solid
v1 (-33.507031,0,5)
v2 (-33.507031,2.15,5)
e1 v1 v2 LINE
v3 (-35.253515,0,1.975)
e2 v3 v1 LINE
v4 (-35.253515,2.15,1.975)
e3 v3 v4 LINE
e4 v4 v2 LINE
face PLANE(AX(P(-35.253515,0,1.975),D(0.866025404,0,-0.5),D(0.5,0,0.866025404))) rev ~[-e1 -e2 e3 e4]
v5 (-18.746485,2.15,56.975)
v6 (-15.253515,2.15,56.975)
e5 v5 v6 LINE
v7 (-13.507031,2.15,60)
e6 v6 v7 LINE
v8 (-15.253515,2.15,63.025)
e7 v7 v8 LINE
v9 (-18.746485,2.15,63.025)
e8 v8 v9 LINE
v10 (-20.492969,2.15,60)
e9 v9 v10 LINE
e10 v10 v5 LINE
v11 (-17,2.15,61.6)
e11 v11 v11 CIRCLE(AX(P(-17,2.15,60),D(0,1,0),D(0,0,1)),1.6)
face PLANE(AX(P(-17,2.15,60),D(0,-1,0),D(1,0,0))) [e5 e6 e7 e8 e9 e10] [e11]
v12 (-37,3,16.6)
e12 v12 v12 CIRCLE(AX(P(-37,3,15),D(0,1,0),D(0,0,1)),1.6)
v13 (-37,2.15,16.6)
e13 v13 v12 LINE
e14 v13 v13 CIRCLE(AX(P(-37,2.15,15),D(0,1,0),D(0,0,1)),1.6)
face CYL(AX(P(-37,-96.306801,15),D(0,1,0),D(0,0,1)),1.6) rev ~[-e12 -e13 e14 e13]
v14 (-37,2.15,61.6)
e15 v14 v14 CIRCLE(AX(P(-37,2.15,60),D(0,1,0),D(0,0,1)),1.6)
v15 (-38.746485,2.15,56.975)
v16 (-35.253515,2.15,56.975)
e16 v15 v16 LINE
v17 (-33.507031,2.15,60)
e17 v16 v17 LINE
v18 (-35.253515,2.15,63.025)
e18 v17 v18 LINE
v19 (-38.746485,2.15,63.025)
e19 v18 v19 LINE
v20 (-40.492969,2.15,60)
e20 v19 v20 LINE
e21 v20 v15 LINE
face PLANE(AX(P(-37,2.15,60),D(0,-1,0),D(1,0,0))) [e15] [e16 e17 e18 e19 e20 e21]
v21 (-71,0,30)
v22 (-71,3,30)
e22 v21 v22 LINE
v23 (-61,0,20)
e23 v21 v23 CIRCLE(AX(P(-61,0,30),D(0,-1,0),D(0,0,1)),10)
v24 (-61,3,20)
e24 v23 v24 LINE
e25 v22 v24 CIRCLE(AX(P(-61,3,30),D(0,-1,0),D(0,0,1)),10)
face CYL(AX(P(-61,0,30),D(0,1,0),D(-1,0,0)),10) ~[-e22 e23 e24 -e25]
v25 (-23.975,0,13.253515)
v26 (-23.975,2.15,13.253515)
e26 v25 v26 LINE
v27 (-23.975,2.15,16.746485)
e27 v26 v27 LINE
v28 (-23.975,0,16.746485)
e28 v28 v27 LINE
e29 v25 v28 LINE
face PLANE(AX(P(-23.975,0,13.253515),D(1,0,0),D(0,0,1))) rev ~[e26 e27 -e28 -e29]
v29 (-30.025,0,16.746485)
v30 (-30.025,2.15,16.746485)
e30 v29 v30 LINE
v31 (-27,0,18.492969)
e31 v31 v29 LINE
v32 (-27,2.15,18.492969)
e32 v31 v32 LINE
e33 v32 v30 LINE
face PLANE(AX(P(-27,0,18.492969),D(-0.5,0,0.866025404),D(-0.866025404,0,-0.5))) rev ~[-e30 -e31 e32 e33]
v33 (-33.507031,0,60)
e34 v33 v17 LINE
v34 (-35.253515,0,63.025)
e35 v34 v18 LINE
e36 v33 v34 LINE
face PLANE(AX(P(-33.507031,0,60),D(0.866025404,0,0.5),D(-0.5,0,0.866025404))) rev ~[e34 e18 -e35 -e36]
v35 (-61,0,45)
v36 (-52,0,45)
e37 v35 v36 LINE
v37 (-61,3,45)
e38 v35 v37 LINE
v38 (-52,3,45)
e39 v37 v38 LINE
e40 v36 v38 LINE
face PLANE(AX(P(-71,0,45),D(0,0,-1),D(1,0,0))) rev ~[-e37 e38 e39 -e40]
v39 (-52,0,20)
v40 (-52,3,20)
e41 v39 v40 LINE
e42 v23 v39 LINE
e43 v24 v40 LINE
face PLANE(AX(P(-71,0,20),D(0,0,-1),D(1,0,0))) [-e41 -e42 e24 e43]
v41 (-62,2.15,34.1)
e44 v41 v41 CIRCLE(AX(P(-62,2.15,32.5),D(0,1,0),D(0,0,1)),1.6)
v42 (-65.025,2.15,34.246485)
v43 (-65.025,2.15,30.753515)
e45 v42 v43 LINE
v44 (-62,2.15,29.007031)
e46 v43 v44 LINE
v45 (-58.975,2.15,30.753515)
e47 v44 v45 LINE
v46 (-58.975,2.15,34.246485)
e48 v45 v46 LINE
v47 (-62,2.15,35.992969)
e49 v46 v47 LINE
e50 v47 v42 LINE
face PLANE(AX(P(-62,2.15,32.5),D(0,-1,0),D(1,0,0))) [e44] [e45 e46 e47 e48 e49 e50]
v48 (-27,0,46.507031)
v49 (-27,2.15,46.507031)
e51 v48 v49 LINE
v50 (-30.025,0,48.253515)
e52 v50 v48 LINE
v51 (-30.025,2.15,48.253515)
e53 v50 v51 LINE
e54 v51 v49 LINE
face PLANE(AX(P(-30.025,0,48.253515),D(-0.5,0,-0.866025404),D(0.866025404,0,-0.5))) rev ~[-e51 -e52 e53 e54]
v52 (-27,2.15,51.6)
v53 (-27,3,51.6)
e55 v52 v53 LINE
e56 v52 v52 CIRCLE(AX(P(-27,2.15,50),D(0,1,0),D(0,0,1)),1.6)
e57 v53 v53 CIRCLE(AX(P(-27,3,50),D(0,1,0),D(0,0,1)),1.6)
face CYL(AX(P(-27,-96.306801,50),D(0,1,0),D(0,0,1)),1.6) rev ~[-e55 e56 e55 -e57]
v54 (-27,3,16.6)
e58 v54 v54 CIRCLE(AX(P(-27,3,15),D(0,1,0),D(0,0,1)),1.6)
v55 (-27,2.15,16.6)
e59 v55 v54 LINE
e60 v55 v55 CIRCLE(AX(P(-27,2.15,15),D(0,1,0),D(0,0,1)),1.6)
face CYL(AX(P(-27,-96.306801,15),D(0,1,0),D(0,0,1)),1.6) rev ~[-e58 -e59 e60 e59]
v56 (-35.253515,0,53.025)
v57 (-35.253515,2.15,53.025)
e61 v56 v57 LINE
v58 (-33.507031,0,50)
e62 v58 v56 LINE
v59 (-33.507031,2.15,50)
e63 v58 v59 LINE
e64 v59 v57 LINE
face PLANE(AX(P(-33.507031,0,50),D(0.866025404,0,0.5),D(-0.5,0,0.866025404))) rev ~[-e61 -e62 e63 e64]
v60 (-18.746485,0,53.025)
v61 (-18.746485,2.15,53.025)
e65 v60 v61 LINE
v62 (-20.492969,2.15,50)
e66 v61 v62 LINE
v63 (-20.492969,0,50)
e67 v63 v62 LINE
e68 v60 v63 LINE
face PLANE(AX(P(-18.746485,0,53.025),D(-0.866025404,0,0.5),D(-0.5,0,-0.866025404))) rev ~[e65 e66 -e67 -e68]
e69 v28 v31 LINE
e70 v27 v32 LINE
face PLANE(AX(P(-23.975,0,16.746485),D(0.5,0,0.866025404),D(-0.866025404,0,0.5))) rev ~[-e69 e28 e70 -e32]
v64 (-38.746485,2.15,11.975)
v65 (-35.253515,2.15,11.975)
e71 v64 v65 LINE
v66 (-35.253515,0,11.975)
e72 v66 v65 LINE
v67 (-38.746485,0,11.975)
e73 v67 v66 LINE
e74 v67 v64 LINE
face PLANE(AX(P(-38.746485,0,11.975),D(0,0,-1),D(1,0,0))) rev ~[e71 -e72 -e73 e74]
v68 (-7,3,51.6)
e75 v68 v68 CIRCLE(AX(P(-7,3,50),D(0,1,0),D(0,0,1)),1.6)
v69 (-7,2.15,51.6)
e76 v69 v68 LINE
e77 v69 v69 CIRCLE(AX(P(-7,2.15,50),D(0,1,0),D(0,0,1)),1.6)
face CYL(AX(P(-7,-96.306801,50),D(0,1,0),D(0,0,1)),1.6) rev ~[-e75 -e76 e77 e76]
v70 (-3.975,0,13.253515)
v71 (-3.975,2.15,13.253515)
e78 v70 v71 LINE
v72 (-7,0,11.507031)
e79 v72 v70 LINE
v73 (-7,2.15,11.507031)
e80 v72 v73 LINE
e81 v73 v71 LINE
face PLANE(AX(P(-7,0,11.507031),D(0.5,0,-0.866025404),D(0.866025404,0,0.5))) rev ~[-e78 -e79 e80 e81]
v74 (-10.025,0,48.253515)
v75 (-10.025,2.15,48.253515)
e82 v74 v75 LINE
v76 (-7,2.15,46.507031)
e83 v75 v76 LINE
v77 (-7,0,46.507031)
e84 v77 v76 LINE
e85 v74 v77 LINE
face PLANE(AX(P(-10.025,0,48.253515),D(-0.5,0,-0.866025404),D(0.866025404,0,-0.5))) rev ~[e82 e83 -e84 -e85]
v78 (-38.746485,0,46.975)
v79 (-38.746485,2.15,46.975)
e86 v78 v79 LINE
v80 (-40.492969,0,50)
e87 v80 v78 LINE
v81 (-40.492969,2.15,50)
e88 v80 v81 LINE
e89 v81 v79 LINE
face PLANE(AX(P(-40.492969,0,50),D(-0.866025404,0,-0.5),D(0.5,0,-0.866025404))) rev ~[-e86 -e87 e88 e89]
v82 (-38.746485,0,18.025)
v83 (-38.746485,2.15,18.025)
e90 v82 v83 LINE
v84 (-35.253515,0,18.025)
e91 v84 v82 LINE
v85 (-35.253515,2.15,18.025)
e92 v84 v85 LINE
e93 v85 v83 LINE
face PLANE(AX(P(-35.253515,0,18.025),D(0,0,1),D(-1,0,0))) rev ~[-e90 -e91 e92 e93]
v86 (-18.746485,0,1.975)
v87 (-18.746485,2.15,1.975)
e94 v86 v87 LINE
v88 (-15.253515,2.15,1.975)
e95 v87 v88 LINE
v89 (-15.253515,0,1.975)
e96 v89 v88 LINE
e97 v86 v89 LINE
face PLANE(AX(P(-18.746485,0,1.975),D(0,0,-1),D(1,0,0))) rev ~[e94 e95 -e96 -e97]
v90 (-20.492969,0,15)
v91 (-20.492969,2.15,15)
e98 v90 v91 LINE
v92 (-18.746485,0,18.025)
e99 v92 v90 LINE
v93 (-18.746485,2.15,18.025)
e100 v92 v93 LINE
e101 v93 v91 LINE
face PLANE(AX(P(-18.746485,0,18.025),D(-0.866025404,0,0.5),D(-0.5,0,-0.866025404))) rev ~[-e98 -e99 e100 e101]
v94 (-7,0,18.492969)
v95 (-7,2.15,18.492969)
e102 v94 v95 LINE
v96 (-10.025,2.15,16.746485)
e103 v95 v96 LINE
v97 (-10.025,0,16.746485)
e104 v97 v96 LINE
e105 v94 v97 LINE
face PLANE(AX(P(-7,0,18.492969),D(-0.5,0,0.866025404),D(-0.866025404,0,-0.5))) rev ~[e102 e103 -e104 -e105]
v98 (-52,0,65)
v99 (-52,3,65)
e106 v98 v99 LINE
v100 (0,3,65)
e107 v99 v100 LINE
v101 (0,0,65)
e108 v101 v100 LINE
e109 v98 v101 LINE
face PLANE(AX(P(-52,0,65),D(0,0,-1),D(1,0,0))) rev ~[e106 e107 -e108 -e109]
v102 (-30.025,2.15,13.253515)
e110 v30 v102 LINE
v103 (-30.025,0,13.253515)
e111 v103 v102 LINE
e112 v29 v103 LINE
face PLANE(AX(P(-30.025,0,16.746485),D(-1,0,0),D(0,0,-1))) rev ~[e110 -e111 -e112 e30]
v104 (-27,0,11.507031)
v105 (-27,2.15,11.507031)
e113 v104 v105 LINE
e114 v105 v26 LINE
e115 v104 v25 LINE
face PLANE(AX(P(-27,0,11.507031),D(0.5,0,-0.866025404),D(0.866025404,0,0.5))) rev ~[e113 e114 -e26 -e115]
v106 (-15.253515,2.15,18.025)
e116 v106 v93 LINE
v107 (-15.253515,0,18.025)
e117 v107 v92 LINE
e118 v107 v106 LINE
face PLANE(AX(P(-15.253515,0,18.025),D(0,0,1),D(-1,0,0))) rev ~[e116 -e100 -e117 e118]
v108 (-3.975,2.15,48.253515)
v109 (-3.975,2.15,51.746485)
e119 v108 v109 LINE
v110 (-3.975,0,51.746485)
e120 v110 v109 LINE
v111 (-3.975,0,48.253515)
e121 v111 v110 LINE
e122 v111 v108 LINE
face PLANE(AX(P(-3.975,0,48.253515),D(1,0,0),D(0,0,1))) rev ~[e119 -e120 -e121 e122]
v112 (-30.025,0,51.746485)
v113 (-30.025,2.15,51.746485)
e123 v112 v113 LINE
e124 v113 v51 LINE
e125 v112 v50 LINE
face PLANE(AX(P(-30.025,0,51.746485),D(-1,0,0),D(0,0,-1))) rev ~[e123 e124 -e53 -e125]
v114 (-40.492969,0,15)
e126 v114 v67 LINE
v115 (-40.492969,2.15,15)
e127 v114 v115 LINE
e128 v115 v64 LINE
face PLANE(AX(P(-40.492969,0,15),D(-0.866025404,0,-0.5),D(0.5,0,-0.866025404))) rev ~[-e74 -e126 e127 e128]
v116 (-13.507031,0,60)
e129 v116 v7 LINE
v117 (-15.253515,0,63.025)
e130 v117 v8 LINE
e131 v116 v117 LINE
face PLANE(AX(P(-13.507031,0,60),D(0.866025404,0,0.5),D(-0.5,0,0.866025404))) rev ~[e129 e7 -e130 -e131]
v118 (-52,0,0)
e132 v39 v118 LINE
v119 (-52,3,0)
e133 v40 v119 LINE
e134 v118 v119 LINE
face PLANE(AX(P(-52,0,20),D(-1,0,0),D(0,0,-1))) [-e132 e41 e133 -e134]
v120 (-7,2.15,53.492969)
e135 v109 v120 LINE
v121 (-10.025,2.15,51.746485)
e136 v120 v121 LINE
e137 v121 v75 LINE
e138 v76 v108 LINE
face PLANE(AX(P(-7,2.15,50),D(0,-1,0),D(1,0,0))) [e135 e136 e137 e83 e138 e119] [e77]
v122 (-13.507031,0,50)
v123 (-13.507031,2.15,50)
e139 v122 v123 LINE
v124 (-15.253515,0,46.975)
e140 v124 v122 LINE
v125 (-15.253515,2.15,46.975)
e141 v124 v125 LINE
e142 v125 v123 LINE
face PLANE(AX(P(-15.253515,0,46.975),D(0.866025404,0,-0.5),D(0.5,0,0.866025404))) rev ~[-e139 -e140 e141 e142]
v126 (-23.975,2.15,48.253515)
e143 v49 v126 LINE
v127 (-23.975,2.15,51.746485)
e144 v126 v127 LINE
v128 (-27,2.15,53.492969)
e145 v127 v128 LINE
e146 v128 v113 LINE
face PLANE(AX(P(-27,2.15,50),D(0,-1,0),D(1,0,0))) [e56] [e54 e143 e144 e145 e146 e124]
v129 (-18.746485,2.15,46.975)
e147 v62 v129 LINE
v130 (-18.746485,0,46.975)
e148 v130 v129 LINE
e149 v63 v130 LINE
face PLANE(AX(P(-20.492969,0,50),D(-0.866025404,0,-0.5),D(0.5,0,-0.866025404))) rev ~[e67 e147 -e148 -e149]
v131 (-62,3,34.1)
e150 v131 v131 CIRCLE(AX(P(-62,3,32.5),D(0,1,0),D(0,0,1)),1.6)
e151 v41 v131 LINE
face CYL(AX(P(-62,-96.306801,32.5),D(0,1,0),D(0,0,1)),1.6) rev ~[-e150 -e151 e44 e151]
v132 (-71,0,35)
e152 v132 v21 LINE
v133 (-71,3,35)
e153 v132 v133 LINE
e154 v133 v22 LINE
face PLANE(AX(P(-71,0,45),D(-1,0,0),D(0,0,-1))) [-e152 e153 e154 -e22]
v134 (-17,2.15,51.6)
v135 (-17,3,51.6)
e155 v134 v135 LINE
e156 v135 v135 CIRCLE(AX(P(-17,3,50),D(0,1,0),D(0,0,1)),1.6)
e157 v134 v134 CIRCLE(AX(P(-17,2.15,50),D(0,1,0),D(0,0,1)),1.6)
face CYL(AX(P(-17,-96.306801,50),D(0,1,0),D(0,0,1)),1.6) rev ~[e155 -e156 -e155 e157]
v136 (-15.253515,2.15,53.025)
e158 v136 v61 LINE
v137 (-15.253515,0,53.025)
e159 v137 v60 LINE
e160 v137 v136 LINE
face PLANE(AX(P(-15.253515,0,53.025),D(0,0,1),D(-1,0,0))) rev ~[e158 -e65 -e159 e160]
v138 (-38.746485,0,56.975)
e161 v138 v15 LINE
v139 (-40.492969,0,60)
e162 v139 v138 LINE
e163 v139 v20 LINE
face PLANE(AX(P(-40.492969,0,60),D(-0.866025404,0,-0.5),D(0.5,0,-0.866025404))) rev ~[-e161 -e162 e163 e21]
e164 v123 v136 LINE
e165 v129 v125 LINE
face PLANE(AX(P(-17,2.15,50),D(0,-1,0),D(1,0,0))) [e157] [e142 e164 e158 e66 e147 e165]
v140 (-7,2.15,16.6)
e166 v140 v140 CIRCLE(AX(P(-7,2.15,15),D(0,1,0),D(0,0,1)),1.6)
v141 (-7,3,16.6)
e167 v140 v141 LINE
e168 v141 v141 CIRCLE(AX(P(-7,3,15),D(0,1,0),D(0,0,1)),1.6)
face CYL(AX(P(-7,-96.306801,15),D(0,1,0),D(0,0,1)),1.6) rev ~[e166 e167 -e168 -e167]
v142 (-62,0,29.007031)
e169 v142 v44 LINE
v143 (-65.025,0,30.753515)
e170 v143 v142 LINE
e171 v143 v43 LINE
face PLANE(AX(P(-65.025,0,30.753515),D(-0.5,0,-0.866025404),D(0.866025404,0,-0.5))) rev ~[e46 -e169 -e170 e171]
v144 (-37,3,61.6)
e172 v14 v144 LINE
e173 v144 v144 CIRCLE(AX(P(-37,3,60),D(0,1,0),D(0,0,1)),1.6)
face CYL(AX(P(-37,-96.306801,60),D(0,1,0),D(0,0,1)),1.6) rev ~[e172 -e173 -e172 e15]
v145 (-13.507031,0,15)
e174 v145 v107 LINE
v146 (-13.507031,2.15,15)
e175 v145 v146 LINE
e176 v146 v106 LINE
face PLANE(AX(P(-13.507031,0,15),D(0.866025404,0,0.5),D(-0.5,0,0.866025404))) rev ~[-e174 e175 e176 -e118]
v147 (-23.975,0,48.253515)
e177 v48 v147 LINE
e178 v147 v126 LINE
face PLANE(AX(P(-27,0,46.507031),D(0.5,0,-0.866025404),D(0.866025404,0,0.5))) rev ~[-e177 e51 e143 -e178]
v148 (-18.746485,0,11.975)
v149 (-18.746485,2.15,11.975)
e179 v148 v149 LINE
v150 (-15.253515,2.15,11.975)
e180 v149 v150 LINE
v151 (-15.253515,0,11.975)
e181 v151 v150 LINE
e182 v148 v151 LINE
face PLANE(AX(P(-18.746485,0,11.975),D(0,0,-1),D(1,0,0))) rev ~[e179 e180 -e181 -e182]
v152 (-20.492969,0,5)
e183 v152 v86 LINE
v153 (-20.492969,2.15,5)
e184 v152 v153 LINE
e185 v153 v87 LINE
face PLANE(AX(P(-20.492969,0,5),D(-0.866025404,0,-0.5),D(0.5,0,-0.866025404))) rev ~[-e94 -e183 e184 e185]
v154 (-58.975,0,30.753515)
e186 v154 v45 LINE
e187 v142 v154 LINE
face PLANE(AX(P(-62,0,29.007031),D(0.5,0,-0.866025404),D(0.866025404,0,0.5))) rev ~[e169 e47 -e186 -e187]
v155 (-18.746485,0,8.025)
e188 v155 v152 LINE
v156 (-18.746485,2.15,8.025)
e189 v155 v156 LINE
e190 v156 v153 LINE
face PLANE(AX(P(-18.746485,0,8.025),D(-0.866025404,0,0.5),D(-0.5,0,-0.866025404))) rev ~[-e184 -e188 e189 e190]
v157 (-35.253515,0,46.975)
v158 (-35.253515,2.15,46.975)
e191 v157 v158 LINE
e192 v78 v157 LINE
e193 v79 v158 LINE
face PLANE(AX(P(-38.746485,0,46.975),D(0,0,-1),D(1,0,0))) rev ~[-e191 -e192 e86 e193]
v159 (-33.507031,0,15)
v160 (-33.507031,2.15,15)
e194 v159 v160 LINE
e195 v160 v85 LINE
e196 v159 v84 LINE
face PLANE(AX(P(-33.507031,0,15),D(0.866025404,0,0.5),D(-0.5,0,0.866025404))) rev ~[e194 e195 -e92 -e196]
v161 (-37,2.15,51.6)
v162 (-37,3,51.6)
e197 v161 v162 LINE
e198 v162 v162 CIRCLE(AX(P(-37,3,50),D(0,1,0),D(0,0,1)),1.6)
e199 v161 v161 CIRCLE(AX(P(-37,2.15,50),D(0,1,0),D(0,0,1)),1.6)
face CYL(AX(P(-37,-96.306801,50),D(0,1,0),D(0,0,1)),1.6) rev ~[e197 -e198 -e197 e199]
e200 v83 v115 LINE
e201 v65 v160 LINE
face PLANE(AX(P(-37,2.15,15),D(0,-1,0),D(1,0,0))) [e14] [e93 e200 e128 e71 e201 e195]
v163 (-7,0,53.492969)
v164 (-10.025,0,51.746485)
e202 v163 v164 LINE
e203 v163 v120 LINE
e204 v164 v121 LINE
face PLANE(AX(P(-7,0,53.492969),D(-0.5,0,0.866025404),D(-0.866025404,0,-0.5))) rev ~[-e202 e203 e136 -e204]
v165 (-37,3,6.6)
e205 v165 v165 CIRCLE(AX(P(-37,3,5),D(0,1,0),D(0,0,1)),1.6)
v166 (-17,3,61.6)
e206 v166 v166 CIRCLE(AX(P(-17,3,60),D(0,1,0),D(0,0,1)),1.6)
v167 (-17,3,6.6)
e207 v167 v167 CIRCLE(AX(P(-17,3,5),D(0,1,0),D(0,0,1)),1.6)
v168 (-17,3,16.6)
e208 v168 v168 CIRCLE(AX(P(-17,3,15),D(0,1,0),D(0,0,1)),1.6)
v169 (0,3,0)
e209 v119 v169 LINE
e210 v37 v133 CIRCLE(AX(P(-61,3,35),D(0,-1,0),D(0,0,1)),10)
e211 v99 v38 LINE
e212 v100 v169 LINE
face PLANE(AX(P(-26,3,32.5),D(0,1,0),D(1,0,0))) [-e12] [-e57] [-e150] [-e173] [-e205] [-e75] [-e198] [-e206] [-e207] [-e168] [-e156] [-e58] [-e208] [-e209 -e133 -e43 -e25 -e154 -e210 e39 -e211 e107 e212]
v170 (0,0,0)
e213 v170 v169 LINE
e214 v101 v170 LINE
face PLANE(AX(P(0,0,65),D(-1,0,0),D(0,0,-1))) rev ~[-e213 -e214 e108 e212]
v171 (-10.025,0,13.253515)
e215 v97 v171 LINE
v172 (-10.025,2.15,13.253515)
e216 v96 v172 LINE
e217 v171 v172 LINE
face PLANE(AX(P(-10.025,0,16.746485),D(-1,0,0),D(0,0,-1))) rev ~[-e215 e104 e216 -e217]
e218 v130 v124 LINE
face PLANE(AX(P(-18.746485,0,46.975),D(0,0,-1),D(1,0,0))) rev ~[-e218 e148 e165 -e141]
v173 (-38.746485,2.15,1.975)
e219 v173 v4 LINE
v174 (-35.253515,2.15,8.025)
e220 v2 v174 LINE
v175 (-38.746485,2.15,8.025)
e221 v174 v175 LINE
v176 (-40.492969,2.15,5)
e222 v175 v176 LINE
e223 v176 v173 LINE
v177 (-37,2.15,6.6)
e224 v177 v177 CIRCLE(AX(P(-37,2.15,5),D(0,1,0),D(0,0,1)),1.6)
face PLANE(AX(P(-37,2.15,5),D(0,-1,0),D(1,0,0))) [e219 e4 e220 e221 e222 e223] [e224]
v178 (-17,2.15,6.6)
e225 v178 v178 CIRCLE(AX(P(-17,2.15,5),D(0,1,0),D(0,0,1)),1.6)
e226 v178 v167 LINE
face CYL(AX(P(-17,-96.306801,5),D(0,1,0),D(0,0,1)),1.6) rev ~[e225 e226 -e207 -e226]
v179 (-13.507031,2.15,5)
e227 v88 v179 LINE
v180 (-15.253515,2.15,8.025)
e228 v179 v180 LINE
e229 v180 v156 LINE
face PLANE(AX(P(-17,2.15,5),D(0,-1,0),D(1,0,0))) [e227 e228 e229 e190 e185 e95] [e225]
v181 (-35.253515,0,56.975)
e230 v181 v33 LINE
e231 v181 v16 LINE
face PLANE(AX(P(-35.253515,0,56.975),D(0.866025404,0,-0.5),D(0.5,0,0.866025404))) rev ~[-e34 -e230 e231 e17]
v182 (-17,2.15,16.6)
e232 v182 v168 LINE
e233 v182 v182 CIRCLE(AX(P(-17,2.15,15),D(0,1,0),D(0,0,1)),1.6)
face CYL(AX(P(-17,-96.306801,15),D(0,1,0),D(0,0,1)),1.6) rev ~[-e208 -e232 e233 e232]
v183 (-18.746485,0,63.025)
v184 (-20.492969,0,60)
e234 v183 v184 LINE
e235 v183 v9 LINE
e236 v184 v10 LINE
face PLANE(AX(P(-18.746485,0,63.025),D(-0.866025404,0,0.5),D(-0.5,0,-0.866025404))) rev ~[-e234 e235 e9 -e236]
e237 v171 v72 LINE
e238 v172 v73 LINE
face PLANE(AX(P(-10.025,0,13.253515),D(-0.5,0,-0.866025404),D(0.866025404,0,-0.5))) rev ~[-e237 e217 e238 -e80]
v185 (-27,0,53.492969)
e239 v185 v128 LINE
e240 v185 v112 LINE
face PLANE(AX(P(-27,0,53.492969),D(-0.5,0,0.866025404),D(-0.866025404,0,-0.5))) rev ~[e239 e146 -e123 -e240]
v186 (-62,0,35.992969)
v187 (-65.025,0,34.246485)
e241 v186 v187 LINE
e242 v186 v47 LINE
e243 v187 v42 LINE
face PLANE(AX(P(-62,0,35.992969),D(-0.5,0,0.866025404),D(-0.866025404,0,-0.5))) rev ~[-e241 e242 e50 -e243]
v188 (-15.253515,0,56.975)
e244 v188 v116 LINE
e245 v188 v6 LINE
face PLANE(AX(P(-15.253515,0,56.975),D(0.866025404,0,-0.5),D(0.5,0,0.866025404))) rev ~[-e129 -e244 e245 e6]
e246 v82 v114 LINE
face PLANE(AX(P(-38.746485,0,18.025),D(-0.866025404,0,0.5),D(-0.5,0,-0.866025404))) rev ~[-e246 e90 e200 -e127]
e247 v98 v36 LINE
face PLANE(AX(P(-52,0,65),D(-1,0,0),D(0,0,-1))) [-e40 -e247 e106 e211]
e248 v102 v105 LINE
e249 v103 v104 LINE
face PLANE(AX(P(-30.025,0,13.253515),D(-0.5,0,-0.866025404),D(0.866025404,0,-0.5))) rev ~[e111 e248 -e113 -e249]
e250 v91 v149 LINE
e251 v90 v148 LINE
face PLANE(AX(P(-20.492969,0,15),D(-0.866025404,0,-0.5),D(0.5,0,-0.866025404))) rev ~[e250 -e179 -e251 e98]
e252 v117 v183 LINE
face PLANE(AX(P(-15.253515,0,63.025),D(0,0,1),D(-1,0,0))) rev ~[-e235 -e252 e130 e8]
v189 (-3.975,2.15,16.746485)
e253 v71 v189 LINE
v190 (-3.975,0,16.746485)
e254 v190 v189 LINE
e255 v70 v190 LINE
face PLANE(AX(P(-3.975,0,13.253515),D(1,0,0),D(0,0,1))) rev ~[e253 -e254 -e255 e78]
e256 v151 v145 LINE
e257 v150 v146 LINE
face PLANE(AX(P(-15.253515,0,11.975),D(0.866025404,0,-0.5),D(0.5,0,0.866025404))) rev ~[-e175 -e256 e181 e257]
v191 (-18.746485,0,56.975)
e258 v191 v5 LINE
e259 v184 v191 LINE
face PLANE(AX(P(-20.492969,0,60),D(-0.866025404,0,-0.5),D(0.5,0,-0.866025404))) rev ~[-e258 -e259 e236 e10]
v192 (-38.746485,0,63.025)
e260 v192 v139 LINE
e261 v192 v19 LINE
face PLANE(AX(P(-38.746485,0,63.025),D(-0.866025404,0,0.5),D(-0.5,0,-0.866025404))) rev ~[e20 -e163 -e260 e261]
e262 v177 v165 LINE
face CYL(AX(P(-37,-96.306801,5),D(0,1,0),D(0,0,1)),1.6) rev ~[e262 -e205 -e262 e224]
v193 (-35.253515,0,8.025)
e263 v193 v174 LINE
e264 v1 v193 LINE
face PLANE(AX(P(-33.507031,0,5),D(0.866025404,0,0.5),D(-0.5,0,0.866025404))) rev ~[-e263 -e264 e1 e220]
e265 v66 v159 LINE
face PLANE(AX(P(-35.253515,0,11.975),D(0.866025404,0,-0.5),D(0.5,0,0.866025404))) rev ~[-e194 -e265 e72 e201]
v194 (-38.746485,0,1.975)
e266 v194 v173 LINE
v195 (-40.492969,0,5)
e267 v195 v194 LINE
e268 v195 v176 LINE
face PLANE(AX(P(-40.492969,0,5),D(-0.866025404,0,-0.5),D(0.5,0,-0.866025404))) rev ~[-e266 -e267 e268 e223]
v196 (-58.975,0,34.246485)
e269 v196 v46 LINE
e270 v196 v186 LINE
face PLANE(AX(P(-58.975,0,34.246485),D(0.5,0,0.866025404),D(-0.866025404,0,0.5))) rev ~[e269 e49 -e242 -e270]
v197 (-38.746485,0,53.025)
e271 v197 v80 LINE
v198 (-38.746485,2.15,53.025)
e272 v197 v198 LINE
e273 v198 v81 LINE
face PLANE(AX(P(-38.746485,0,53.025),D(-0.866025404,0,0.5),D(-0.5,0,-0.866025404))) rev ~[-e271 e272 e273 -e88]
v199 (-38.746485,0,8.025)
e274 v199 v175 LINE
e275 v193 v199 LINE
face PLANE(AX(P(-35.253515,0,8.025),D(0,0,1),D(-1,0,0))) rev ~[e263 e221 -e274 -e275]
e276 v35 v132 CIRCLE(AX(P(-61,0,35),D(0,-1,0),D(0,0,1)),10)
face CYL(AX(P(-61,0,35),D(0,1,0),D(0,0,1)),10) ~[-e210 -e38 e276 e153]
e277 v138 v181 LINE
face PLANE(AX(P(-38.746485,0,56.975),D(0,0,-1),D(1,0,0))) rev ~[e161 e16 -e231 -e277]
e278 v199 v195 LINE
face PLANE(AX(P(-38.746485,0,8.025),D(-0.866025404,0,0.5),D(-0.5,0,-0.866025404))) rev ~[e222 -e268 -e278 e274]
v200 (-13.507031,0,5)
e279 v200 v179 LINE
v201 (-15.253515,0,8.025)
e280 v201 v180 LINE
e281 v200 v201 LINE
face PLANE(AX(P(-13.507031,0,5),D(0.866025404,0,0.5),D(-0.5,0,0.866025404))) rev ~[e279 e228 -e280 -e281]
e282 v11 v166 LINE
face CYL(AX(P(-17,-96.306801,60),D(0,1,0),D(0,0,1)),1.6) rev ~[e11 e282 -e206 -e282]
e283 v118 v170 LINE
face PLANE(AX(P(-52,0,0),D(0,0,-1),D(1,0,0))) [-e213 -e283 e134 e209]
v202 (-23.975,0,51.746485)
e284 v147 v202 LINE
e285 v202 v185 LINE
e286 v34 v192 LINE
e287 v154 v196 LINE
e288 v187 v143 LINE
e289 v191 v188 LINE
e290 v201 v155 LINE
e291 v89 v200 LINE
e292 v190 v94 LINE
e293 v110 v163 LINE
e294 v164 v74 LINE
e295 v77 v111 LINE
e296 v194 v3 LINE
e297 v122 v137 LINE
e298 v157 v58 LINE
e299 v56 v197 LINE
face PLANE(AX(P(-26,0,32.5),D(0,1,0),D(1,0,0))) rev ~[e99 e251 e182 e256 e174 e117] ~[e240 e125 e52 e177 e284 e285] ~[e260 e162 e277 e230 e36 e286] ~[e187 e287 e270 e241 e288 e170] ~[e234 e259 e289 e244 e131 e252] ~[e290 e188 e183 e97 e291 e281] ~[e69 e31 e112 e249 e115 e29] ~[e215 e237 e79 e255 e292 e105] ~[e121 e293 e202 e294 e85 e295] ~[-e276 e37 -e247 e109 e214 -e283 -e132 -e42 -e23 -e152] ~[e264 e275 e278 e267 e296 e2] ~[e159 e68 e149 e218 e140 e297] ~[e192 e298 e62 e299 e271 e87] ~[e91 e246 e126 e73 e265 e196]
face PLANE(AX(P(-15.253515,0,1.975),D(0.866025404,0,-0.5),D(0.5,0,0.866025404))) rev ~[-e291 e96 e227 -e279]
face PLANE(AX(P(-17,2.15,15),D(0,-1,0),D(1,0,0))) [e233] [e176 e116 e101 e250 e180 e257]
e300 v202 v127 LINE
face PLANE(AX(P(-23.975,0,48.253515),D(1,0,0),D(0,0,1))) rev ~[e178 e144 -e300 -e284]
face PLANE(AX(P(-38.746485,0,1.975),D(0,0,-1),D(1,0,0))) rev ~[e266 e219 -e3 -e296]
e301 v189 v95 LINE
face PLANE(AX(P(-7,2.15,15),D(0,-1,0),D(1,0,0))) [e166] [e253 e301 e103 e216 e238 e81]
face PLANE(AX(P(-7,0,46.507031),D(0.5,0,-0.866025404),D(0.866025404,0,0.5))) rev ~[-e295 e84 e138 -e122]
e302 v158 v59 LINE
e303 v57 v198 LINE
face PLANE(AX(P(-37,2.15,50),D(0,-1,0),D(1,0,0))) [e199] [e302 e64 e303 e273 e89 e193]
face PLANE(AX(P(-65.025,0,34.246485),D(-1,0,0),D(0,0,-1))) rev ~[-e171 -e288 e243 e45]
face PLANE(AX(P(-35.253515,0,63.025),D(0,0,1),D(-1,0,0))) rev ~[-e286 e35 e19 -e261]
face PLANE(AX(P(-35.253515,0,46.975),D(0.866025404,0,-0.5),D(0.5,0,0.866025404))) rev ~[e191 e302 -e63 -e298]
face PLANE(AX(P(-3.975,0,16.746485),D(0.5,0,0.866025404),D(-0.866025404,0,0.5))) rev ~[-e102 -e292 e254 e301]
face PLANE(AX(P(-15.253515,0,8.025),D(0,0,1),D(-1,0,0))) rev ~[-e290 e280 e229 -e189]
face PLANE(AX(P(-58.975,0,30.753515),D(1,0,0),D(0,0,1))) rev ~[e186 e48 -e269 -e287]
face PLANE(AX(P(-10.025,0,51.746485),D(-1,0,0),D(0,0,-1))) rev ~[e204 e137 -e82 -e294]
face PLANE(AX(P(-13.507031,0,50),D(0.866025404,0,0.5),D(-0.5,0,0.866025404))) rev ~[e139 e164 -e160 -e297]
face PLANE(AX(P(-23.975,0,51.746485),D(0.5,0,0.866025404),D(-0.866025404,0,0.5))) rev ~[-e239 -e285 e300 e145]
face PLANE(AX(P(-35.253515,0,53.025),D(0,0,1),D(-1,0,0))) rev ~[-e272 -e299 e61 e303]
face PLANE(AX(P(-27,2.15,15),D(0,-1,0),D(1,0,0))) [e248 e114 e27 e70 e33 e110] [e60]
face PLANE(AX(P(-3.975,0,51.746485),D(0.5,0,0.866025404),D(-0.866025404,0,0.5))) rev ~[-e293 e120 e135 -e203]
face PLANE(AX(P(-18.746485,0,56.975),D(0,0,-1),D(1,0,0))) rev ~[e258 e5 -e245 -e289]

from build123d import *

# Parameters (mm, degrees)
BOSS_EXTRUDE1_DEPTH = 3
CUT_EXTRUDE1_DEPTH  = 2.15
HOLE1_D             = 3.2
FILLET1_R           = 10


with BuildPart() as part:
    # Sketch1 → Boss-Extrude1 (new body)
    with BuildSketch(Plane(origin=(0, 0, 0), x_dir=(1, 0, 0), z_dir=(0, 1, 0))):
        Polygon((0, 0), (-52, 0), (-52, -20), (-71, -20), (-71, -45), (-52, -45), (-52, -65), (0, -65), align=None)
    extrude(amount=BOSS_EXTRUDE1_DEPTH)

    # Sketch2 → Cut-Extrude1 (cut)
    with BuildSketch(Plane.XZ):
        Polygon((-7, 46.507030871), (-3.975, 48.253515436), (-3.975, 51.746484564), (-7, 53.492969129), (-10.025, 51.746484564), (-10.025, 48.253515436), align=None)
        Polygon((-35.253515436, 56.975), (-33.507030871, 60), (-35.253515436, 63.025), (-38.746484564, 63.025), (-40.492969129, 60), (-38.746484564, 56.975), align=None)
        Polygon((-20.492969129, 60), (-18.746484564, 56.975), (-15.253515436, 56.975), (-13.507030871, 60), (-15.253515436, 63.025), (-18.746484564, 63.025), align=None)
        Polygon((-18.746484564, 46.975), (-15.253515436, 46.975), (-13.507030871, 50), (-15.253515436, 53.025), (-18.746484564, 53.025), (-20.492969129, 50), align=None)
        Polygon((-38.746484564, 46.975), (-35.253515436, 46.975), (-33.507030871, 50), (-35.253515436, 53.025), (-38.746484564, 53.025), (-40.492969129, 50), align=None)
        Polygon((-38.746484564, 11.975), (-35.253515436, 11.975), (-33.507030871, 15), (-35.253515436, 18.025), (-38.746484564, 18.025), (-40.492969129, 15), align=None)
        Polygon((-18.746484564, 11.975), (-15.253515436, 11.975), (-13.507030871, 15), (-15.253515436, 18.025), (-18.746484564, 18.025), (-20.492969129, 15), align=None)
        Polygon((-15.253515436, 1.975), (-13.507030871, 5), (-15.253515436, 8.025), (-18.746484564, 8.025), (-20.492969129, 5), (-18.746484564, 1.975), align=None)
        Polygon((-35.253515436, 8.025), (-38.746484564, 8.025), (-40.492969129, 5), (-38.746484564, 1.975), (-35.253515436, 1.975), (-33.507030871, 5), align=None)
        Polygon((-27, 46.507030871), (-23.975, 48.253515436), (-23.975, 51.746484564), (-27, 53.492969129), (-30.025, 51.746484564), (-30.025, 48.253515436), align=None)
        Polygon((-23.975, 13.253515436), (-23.975, 16.746484564), (-27, 18.492969129), (-30.025, 16.746484564), (-30.025, 13.253515436), (-27, 11.507030871), align=None)
        Polygon((-58.975, 30.753515436), (-58.975, 34.246484564), (-62, 35.992969129), (-65.025, 34.246484564), (-65.025, 30.753515436), (-62, 29.007030871), align=None)
        Polygon((-3.975, 16.746484564), (-7, 18.492969129), (-10.025, 16.746484564), (-10.025, 13.253515436), (-7, 11.507030871), (-3.975, 13.253515436), align=None)
    extrude(amount=-CUT_EXTRUDE1_DEPTH, mode=Mode.SUBTRACT)

    # Hole1 (through all)
    with Locations(Plane(origin=(-37, 0, 5), x_dir=(0, 0, -1), z_dir=(0, -1, 0))):
        with Locations((0, 0), (-10, 0), (-10, 20), (0, 20), (-10, 10), (-45, 10), (-45, 20), (-55, 20), (-55, 0), (-45, 0), (-27.5, -25), (-10, 30), (-45, 30)):
            Hole(HOLE1_D / 2)

    # Fillet1
    fillet1_edges = [part.edges().sort_by_distance(p)[0] for p in [
        (-71, 1.5, 20),
        (-71, 1.5, 45),
    ]]
    fillet(fillet1_edges, radius=FILLET1_R)


solid = part.part
